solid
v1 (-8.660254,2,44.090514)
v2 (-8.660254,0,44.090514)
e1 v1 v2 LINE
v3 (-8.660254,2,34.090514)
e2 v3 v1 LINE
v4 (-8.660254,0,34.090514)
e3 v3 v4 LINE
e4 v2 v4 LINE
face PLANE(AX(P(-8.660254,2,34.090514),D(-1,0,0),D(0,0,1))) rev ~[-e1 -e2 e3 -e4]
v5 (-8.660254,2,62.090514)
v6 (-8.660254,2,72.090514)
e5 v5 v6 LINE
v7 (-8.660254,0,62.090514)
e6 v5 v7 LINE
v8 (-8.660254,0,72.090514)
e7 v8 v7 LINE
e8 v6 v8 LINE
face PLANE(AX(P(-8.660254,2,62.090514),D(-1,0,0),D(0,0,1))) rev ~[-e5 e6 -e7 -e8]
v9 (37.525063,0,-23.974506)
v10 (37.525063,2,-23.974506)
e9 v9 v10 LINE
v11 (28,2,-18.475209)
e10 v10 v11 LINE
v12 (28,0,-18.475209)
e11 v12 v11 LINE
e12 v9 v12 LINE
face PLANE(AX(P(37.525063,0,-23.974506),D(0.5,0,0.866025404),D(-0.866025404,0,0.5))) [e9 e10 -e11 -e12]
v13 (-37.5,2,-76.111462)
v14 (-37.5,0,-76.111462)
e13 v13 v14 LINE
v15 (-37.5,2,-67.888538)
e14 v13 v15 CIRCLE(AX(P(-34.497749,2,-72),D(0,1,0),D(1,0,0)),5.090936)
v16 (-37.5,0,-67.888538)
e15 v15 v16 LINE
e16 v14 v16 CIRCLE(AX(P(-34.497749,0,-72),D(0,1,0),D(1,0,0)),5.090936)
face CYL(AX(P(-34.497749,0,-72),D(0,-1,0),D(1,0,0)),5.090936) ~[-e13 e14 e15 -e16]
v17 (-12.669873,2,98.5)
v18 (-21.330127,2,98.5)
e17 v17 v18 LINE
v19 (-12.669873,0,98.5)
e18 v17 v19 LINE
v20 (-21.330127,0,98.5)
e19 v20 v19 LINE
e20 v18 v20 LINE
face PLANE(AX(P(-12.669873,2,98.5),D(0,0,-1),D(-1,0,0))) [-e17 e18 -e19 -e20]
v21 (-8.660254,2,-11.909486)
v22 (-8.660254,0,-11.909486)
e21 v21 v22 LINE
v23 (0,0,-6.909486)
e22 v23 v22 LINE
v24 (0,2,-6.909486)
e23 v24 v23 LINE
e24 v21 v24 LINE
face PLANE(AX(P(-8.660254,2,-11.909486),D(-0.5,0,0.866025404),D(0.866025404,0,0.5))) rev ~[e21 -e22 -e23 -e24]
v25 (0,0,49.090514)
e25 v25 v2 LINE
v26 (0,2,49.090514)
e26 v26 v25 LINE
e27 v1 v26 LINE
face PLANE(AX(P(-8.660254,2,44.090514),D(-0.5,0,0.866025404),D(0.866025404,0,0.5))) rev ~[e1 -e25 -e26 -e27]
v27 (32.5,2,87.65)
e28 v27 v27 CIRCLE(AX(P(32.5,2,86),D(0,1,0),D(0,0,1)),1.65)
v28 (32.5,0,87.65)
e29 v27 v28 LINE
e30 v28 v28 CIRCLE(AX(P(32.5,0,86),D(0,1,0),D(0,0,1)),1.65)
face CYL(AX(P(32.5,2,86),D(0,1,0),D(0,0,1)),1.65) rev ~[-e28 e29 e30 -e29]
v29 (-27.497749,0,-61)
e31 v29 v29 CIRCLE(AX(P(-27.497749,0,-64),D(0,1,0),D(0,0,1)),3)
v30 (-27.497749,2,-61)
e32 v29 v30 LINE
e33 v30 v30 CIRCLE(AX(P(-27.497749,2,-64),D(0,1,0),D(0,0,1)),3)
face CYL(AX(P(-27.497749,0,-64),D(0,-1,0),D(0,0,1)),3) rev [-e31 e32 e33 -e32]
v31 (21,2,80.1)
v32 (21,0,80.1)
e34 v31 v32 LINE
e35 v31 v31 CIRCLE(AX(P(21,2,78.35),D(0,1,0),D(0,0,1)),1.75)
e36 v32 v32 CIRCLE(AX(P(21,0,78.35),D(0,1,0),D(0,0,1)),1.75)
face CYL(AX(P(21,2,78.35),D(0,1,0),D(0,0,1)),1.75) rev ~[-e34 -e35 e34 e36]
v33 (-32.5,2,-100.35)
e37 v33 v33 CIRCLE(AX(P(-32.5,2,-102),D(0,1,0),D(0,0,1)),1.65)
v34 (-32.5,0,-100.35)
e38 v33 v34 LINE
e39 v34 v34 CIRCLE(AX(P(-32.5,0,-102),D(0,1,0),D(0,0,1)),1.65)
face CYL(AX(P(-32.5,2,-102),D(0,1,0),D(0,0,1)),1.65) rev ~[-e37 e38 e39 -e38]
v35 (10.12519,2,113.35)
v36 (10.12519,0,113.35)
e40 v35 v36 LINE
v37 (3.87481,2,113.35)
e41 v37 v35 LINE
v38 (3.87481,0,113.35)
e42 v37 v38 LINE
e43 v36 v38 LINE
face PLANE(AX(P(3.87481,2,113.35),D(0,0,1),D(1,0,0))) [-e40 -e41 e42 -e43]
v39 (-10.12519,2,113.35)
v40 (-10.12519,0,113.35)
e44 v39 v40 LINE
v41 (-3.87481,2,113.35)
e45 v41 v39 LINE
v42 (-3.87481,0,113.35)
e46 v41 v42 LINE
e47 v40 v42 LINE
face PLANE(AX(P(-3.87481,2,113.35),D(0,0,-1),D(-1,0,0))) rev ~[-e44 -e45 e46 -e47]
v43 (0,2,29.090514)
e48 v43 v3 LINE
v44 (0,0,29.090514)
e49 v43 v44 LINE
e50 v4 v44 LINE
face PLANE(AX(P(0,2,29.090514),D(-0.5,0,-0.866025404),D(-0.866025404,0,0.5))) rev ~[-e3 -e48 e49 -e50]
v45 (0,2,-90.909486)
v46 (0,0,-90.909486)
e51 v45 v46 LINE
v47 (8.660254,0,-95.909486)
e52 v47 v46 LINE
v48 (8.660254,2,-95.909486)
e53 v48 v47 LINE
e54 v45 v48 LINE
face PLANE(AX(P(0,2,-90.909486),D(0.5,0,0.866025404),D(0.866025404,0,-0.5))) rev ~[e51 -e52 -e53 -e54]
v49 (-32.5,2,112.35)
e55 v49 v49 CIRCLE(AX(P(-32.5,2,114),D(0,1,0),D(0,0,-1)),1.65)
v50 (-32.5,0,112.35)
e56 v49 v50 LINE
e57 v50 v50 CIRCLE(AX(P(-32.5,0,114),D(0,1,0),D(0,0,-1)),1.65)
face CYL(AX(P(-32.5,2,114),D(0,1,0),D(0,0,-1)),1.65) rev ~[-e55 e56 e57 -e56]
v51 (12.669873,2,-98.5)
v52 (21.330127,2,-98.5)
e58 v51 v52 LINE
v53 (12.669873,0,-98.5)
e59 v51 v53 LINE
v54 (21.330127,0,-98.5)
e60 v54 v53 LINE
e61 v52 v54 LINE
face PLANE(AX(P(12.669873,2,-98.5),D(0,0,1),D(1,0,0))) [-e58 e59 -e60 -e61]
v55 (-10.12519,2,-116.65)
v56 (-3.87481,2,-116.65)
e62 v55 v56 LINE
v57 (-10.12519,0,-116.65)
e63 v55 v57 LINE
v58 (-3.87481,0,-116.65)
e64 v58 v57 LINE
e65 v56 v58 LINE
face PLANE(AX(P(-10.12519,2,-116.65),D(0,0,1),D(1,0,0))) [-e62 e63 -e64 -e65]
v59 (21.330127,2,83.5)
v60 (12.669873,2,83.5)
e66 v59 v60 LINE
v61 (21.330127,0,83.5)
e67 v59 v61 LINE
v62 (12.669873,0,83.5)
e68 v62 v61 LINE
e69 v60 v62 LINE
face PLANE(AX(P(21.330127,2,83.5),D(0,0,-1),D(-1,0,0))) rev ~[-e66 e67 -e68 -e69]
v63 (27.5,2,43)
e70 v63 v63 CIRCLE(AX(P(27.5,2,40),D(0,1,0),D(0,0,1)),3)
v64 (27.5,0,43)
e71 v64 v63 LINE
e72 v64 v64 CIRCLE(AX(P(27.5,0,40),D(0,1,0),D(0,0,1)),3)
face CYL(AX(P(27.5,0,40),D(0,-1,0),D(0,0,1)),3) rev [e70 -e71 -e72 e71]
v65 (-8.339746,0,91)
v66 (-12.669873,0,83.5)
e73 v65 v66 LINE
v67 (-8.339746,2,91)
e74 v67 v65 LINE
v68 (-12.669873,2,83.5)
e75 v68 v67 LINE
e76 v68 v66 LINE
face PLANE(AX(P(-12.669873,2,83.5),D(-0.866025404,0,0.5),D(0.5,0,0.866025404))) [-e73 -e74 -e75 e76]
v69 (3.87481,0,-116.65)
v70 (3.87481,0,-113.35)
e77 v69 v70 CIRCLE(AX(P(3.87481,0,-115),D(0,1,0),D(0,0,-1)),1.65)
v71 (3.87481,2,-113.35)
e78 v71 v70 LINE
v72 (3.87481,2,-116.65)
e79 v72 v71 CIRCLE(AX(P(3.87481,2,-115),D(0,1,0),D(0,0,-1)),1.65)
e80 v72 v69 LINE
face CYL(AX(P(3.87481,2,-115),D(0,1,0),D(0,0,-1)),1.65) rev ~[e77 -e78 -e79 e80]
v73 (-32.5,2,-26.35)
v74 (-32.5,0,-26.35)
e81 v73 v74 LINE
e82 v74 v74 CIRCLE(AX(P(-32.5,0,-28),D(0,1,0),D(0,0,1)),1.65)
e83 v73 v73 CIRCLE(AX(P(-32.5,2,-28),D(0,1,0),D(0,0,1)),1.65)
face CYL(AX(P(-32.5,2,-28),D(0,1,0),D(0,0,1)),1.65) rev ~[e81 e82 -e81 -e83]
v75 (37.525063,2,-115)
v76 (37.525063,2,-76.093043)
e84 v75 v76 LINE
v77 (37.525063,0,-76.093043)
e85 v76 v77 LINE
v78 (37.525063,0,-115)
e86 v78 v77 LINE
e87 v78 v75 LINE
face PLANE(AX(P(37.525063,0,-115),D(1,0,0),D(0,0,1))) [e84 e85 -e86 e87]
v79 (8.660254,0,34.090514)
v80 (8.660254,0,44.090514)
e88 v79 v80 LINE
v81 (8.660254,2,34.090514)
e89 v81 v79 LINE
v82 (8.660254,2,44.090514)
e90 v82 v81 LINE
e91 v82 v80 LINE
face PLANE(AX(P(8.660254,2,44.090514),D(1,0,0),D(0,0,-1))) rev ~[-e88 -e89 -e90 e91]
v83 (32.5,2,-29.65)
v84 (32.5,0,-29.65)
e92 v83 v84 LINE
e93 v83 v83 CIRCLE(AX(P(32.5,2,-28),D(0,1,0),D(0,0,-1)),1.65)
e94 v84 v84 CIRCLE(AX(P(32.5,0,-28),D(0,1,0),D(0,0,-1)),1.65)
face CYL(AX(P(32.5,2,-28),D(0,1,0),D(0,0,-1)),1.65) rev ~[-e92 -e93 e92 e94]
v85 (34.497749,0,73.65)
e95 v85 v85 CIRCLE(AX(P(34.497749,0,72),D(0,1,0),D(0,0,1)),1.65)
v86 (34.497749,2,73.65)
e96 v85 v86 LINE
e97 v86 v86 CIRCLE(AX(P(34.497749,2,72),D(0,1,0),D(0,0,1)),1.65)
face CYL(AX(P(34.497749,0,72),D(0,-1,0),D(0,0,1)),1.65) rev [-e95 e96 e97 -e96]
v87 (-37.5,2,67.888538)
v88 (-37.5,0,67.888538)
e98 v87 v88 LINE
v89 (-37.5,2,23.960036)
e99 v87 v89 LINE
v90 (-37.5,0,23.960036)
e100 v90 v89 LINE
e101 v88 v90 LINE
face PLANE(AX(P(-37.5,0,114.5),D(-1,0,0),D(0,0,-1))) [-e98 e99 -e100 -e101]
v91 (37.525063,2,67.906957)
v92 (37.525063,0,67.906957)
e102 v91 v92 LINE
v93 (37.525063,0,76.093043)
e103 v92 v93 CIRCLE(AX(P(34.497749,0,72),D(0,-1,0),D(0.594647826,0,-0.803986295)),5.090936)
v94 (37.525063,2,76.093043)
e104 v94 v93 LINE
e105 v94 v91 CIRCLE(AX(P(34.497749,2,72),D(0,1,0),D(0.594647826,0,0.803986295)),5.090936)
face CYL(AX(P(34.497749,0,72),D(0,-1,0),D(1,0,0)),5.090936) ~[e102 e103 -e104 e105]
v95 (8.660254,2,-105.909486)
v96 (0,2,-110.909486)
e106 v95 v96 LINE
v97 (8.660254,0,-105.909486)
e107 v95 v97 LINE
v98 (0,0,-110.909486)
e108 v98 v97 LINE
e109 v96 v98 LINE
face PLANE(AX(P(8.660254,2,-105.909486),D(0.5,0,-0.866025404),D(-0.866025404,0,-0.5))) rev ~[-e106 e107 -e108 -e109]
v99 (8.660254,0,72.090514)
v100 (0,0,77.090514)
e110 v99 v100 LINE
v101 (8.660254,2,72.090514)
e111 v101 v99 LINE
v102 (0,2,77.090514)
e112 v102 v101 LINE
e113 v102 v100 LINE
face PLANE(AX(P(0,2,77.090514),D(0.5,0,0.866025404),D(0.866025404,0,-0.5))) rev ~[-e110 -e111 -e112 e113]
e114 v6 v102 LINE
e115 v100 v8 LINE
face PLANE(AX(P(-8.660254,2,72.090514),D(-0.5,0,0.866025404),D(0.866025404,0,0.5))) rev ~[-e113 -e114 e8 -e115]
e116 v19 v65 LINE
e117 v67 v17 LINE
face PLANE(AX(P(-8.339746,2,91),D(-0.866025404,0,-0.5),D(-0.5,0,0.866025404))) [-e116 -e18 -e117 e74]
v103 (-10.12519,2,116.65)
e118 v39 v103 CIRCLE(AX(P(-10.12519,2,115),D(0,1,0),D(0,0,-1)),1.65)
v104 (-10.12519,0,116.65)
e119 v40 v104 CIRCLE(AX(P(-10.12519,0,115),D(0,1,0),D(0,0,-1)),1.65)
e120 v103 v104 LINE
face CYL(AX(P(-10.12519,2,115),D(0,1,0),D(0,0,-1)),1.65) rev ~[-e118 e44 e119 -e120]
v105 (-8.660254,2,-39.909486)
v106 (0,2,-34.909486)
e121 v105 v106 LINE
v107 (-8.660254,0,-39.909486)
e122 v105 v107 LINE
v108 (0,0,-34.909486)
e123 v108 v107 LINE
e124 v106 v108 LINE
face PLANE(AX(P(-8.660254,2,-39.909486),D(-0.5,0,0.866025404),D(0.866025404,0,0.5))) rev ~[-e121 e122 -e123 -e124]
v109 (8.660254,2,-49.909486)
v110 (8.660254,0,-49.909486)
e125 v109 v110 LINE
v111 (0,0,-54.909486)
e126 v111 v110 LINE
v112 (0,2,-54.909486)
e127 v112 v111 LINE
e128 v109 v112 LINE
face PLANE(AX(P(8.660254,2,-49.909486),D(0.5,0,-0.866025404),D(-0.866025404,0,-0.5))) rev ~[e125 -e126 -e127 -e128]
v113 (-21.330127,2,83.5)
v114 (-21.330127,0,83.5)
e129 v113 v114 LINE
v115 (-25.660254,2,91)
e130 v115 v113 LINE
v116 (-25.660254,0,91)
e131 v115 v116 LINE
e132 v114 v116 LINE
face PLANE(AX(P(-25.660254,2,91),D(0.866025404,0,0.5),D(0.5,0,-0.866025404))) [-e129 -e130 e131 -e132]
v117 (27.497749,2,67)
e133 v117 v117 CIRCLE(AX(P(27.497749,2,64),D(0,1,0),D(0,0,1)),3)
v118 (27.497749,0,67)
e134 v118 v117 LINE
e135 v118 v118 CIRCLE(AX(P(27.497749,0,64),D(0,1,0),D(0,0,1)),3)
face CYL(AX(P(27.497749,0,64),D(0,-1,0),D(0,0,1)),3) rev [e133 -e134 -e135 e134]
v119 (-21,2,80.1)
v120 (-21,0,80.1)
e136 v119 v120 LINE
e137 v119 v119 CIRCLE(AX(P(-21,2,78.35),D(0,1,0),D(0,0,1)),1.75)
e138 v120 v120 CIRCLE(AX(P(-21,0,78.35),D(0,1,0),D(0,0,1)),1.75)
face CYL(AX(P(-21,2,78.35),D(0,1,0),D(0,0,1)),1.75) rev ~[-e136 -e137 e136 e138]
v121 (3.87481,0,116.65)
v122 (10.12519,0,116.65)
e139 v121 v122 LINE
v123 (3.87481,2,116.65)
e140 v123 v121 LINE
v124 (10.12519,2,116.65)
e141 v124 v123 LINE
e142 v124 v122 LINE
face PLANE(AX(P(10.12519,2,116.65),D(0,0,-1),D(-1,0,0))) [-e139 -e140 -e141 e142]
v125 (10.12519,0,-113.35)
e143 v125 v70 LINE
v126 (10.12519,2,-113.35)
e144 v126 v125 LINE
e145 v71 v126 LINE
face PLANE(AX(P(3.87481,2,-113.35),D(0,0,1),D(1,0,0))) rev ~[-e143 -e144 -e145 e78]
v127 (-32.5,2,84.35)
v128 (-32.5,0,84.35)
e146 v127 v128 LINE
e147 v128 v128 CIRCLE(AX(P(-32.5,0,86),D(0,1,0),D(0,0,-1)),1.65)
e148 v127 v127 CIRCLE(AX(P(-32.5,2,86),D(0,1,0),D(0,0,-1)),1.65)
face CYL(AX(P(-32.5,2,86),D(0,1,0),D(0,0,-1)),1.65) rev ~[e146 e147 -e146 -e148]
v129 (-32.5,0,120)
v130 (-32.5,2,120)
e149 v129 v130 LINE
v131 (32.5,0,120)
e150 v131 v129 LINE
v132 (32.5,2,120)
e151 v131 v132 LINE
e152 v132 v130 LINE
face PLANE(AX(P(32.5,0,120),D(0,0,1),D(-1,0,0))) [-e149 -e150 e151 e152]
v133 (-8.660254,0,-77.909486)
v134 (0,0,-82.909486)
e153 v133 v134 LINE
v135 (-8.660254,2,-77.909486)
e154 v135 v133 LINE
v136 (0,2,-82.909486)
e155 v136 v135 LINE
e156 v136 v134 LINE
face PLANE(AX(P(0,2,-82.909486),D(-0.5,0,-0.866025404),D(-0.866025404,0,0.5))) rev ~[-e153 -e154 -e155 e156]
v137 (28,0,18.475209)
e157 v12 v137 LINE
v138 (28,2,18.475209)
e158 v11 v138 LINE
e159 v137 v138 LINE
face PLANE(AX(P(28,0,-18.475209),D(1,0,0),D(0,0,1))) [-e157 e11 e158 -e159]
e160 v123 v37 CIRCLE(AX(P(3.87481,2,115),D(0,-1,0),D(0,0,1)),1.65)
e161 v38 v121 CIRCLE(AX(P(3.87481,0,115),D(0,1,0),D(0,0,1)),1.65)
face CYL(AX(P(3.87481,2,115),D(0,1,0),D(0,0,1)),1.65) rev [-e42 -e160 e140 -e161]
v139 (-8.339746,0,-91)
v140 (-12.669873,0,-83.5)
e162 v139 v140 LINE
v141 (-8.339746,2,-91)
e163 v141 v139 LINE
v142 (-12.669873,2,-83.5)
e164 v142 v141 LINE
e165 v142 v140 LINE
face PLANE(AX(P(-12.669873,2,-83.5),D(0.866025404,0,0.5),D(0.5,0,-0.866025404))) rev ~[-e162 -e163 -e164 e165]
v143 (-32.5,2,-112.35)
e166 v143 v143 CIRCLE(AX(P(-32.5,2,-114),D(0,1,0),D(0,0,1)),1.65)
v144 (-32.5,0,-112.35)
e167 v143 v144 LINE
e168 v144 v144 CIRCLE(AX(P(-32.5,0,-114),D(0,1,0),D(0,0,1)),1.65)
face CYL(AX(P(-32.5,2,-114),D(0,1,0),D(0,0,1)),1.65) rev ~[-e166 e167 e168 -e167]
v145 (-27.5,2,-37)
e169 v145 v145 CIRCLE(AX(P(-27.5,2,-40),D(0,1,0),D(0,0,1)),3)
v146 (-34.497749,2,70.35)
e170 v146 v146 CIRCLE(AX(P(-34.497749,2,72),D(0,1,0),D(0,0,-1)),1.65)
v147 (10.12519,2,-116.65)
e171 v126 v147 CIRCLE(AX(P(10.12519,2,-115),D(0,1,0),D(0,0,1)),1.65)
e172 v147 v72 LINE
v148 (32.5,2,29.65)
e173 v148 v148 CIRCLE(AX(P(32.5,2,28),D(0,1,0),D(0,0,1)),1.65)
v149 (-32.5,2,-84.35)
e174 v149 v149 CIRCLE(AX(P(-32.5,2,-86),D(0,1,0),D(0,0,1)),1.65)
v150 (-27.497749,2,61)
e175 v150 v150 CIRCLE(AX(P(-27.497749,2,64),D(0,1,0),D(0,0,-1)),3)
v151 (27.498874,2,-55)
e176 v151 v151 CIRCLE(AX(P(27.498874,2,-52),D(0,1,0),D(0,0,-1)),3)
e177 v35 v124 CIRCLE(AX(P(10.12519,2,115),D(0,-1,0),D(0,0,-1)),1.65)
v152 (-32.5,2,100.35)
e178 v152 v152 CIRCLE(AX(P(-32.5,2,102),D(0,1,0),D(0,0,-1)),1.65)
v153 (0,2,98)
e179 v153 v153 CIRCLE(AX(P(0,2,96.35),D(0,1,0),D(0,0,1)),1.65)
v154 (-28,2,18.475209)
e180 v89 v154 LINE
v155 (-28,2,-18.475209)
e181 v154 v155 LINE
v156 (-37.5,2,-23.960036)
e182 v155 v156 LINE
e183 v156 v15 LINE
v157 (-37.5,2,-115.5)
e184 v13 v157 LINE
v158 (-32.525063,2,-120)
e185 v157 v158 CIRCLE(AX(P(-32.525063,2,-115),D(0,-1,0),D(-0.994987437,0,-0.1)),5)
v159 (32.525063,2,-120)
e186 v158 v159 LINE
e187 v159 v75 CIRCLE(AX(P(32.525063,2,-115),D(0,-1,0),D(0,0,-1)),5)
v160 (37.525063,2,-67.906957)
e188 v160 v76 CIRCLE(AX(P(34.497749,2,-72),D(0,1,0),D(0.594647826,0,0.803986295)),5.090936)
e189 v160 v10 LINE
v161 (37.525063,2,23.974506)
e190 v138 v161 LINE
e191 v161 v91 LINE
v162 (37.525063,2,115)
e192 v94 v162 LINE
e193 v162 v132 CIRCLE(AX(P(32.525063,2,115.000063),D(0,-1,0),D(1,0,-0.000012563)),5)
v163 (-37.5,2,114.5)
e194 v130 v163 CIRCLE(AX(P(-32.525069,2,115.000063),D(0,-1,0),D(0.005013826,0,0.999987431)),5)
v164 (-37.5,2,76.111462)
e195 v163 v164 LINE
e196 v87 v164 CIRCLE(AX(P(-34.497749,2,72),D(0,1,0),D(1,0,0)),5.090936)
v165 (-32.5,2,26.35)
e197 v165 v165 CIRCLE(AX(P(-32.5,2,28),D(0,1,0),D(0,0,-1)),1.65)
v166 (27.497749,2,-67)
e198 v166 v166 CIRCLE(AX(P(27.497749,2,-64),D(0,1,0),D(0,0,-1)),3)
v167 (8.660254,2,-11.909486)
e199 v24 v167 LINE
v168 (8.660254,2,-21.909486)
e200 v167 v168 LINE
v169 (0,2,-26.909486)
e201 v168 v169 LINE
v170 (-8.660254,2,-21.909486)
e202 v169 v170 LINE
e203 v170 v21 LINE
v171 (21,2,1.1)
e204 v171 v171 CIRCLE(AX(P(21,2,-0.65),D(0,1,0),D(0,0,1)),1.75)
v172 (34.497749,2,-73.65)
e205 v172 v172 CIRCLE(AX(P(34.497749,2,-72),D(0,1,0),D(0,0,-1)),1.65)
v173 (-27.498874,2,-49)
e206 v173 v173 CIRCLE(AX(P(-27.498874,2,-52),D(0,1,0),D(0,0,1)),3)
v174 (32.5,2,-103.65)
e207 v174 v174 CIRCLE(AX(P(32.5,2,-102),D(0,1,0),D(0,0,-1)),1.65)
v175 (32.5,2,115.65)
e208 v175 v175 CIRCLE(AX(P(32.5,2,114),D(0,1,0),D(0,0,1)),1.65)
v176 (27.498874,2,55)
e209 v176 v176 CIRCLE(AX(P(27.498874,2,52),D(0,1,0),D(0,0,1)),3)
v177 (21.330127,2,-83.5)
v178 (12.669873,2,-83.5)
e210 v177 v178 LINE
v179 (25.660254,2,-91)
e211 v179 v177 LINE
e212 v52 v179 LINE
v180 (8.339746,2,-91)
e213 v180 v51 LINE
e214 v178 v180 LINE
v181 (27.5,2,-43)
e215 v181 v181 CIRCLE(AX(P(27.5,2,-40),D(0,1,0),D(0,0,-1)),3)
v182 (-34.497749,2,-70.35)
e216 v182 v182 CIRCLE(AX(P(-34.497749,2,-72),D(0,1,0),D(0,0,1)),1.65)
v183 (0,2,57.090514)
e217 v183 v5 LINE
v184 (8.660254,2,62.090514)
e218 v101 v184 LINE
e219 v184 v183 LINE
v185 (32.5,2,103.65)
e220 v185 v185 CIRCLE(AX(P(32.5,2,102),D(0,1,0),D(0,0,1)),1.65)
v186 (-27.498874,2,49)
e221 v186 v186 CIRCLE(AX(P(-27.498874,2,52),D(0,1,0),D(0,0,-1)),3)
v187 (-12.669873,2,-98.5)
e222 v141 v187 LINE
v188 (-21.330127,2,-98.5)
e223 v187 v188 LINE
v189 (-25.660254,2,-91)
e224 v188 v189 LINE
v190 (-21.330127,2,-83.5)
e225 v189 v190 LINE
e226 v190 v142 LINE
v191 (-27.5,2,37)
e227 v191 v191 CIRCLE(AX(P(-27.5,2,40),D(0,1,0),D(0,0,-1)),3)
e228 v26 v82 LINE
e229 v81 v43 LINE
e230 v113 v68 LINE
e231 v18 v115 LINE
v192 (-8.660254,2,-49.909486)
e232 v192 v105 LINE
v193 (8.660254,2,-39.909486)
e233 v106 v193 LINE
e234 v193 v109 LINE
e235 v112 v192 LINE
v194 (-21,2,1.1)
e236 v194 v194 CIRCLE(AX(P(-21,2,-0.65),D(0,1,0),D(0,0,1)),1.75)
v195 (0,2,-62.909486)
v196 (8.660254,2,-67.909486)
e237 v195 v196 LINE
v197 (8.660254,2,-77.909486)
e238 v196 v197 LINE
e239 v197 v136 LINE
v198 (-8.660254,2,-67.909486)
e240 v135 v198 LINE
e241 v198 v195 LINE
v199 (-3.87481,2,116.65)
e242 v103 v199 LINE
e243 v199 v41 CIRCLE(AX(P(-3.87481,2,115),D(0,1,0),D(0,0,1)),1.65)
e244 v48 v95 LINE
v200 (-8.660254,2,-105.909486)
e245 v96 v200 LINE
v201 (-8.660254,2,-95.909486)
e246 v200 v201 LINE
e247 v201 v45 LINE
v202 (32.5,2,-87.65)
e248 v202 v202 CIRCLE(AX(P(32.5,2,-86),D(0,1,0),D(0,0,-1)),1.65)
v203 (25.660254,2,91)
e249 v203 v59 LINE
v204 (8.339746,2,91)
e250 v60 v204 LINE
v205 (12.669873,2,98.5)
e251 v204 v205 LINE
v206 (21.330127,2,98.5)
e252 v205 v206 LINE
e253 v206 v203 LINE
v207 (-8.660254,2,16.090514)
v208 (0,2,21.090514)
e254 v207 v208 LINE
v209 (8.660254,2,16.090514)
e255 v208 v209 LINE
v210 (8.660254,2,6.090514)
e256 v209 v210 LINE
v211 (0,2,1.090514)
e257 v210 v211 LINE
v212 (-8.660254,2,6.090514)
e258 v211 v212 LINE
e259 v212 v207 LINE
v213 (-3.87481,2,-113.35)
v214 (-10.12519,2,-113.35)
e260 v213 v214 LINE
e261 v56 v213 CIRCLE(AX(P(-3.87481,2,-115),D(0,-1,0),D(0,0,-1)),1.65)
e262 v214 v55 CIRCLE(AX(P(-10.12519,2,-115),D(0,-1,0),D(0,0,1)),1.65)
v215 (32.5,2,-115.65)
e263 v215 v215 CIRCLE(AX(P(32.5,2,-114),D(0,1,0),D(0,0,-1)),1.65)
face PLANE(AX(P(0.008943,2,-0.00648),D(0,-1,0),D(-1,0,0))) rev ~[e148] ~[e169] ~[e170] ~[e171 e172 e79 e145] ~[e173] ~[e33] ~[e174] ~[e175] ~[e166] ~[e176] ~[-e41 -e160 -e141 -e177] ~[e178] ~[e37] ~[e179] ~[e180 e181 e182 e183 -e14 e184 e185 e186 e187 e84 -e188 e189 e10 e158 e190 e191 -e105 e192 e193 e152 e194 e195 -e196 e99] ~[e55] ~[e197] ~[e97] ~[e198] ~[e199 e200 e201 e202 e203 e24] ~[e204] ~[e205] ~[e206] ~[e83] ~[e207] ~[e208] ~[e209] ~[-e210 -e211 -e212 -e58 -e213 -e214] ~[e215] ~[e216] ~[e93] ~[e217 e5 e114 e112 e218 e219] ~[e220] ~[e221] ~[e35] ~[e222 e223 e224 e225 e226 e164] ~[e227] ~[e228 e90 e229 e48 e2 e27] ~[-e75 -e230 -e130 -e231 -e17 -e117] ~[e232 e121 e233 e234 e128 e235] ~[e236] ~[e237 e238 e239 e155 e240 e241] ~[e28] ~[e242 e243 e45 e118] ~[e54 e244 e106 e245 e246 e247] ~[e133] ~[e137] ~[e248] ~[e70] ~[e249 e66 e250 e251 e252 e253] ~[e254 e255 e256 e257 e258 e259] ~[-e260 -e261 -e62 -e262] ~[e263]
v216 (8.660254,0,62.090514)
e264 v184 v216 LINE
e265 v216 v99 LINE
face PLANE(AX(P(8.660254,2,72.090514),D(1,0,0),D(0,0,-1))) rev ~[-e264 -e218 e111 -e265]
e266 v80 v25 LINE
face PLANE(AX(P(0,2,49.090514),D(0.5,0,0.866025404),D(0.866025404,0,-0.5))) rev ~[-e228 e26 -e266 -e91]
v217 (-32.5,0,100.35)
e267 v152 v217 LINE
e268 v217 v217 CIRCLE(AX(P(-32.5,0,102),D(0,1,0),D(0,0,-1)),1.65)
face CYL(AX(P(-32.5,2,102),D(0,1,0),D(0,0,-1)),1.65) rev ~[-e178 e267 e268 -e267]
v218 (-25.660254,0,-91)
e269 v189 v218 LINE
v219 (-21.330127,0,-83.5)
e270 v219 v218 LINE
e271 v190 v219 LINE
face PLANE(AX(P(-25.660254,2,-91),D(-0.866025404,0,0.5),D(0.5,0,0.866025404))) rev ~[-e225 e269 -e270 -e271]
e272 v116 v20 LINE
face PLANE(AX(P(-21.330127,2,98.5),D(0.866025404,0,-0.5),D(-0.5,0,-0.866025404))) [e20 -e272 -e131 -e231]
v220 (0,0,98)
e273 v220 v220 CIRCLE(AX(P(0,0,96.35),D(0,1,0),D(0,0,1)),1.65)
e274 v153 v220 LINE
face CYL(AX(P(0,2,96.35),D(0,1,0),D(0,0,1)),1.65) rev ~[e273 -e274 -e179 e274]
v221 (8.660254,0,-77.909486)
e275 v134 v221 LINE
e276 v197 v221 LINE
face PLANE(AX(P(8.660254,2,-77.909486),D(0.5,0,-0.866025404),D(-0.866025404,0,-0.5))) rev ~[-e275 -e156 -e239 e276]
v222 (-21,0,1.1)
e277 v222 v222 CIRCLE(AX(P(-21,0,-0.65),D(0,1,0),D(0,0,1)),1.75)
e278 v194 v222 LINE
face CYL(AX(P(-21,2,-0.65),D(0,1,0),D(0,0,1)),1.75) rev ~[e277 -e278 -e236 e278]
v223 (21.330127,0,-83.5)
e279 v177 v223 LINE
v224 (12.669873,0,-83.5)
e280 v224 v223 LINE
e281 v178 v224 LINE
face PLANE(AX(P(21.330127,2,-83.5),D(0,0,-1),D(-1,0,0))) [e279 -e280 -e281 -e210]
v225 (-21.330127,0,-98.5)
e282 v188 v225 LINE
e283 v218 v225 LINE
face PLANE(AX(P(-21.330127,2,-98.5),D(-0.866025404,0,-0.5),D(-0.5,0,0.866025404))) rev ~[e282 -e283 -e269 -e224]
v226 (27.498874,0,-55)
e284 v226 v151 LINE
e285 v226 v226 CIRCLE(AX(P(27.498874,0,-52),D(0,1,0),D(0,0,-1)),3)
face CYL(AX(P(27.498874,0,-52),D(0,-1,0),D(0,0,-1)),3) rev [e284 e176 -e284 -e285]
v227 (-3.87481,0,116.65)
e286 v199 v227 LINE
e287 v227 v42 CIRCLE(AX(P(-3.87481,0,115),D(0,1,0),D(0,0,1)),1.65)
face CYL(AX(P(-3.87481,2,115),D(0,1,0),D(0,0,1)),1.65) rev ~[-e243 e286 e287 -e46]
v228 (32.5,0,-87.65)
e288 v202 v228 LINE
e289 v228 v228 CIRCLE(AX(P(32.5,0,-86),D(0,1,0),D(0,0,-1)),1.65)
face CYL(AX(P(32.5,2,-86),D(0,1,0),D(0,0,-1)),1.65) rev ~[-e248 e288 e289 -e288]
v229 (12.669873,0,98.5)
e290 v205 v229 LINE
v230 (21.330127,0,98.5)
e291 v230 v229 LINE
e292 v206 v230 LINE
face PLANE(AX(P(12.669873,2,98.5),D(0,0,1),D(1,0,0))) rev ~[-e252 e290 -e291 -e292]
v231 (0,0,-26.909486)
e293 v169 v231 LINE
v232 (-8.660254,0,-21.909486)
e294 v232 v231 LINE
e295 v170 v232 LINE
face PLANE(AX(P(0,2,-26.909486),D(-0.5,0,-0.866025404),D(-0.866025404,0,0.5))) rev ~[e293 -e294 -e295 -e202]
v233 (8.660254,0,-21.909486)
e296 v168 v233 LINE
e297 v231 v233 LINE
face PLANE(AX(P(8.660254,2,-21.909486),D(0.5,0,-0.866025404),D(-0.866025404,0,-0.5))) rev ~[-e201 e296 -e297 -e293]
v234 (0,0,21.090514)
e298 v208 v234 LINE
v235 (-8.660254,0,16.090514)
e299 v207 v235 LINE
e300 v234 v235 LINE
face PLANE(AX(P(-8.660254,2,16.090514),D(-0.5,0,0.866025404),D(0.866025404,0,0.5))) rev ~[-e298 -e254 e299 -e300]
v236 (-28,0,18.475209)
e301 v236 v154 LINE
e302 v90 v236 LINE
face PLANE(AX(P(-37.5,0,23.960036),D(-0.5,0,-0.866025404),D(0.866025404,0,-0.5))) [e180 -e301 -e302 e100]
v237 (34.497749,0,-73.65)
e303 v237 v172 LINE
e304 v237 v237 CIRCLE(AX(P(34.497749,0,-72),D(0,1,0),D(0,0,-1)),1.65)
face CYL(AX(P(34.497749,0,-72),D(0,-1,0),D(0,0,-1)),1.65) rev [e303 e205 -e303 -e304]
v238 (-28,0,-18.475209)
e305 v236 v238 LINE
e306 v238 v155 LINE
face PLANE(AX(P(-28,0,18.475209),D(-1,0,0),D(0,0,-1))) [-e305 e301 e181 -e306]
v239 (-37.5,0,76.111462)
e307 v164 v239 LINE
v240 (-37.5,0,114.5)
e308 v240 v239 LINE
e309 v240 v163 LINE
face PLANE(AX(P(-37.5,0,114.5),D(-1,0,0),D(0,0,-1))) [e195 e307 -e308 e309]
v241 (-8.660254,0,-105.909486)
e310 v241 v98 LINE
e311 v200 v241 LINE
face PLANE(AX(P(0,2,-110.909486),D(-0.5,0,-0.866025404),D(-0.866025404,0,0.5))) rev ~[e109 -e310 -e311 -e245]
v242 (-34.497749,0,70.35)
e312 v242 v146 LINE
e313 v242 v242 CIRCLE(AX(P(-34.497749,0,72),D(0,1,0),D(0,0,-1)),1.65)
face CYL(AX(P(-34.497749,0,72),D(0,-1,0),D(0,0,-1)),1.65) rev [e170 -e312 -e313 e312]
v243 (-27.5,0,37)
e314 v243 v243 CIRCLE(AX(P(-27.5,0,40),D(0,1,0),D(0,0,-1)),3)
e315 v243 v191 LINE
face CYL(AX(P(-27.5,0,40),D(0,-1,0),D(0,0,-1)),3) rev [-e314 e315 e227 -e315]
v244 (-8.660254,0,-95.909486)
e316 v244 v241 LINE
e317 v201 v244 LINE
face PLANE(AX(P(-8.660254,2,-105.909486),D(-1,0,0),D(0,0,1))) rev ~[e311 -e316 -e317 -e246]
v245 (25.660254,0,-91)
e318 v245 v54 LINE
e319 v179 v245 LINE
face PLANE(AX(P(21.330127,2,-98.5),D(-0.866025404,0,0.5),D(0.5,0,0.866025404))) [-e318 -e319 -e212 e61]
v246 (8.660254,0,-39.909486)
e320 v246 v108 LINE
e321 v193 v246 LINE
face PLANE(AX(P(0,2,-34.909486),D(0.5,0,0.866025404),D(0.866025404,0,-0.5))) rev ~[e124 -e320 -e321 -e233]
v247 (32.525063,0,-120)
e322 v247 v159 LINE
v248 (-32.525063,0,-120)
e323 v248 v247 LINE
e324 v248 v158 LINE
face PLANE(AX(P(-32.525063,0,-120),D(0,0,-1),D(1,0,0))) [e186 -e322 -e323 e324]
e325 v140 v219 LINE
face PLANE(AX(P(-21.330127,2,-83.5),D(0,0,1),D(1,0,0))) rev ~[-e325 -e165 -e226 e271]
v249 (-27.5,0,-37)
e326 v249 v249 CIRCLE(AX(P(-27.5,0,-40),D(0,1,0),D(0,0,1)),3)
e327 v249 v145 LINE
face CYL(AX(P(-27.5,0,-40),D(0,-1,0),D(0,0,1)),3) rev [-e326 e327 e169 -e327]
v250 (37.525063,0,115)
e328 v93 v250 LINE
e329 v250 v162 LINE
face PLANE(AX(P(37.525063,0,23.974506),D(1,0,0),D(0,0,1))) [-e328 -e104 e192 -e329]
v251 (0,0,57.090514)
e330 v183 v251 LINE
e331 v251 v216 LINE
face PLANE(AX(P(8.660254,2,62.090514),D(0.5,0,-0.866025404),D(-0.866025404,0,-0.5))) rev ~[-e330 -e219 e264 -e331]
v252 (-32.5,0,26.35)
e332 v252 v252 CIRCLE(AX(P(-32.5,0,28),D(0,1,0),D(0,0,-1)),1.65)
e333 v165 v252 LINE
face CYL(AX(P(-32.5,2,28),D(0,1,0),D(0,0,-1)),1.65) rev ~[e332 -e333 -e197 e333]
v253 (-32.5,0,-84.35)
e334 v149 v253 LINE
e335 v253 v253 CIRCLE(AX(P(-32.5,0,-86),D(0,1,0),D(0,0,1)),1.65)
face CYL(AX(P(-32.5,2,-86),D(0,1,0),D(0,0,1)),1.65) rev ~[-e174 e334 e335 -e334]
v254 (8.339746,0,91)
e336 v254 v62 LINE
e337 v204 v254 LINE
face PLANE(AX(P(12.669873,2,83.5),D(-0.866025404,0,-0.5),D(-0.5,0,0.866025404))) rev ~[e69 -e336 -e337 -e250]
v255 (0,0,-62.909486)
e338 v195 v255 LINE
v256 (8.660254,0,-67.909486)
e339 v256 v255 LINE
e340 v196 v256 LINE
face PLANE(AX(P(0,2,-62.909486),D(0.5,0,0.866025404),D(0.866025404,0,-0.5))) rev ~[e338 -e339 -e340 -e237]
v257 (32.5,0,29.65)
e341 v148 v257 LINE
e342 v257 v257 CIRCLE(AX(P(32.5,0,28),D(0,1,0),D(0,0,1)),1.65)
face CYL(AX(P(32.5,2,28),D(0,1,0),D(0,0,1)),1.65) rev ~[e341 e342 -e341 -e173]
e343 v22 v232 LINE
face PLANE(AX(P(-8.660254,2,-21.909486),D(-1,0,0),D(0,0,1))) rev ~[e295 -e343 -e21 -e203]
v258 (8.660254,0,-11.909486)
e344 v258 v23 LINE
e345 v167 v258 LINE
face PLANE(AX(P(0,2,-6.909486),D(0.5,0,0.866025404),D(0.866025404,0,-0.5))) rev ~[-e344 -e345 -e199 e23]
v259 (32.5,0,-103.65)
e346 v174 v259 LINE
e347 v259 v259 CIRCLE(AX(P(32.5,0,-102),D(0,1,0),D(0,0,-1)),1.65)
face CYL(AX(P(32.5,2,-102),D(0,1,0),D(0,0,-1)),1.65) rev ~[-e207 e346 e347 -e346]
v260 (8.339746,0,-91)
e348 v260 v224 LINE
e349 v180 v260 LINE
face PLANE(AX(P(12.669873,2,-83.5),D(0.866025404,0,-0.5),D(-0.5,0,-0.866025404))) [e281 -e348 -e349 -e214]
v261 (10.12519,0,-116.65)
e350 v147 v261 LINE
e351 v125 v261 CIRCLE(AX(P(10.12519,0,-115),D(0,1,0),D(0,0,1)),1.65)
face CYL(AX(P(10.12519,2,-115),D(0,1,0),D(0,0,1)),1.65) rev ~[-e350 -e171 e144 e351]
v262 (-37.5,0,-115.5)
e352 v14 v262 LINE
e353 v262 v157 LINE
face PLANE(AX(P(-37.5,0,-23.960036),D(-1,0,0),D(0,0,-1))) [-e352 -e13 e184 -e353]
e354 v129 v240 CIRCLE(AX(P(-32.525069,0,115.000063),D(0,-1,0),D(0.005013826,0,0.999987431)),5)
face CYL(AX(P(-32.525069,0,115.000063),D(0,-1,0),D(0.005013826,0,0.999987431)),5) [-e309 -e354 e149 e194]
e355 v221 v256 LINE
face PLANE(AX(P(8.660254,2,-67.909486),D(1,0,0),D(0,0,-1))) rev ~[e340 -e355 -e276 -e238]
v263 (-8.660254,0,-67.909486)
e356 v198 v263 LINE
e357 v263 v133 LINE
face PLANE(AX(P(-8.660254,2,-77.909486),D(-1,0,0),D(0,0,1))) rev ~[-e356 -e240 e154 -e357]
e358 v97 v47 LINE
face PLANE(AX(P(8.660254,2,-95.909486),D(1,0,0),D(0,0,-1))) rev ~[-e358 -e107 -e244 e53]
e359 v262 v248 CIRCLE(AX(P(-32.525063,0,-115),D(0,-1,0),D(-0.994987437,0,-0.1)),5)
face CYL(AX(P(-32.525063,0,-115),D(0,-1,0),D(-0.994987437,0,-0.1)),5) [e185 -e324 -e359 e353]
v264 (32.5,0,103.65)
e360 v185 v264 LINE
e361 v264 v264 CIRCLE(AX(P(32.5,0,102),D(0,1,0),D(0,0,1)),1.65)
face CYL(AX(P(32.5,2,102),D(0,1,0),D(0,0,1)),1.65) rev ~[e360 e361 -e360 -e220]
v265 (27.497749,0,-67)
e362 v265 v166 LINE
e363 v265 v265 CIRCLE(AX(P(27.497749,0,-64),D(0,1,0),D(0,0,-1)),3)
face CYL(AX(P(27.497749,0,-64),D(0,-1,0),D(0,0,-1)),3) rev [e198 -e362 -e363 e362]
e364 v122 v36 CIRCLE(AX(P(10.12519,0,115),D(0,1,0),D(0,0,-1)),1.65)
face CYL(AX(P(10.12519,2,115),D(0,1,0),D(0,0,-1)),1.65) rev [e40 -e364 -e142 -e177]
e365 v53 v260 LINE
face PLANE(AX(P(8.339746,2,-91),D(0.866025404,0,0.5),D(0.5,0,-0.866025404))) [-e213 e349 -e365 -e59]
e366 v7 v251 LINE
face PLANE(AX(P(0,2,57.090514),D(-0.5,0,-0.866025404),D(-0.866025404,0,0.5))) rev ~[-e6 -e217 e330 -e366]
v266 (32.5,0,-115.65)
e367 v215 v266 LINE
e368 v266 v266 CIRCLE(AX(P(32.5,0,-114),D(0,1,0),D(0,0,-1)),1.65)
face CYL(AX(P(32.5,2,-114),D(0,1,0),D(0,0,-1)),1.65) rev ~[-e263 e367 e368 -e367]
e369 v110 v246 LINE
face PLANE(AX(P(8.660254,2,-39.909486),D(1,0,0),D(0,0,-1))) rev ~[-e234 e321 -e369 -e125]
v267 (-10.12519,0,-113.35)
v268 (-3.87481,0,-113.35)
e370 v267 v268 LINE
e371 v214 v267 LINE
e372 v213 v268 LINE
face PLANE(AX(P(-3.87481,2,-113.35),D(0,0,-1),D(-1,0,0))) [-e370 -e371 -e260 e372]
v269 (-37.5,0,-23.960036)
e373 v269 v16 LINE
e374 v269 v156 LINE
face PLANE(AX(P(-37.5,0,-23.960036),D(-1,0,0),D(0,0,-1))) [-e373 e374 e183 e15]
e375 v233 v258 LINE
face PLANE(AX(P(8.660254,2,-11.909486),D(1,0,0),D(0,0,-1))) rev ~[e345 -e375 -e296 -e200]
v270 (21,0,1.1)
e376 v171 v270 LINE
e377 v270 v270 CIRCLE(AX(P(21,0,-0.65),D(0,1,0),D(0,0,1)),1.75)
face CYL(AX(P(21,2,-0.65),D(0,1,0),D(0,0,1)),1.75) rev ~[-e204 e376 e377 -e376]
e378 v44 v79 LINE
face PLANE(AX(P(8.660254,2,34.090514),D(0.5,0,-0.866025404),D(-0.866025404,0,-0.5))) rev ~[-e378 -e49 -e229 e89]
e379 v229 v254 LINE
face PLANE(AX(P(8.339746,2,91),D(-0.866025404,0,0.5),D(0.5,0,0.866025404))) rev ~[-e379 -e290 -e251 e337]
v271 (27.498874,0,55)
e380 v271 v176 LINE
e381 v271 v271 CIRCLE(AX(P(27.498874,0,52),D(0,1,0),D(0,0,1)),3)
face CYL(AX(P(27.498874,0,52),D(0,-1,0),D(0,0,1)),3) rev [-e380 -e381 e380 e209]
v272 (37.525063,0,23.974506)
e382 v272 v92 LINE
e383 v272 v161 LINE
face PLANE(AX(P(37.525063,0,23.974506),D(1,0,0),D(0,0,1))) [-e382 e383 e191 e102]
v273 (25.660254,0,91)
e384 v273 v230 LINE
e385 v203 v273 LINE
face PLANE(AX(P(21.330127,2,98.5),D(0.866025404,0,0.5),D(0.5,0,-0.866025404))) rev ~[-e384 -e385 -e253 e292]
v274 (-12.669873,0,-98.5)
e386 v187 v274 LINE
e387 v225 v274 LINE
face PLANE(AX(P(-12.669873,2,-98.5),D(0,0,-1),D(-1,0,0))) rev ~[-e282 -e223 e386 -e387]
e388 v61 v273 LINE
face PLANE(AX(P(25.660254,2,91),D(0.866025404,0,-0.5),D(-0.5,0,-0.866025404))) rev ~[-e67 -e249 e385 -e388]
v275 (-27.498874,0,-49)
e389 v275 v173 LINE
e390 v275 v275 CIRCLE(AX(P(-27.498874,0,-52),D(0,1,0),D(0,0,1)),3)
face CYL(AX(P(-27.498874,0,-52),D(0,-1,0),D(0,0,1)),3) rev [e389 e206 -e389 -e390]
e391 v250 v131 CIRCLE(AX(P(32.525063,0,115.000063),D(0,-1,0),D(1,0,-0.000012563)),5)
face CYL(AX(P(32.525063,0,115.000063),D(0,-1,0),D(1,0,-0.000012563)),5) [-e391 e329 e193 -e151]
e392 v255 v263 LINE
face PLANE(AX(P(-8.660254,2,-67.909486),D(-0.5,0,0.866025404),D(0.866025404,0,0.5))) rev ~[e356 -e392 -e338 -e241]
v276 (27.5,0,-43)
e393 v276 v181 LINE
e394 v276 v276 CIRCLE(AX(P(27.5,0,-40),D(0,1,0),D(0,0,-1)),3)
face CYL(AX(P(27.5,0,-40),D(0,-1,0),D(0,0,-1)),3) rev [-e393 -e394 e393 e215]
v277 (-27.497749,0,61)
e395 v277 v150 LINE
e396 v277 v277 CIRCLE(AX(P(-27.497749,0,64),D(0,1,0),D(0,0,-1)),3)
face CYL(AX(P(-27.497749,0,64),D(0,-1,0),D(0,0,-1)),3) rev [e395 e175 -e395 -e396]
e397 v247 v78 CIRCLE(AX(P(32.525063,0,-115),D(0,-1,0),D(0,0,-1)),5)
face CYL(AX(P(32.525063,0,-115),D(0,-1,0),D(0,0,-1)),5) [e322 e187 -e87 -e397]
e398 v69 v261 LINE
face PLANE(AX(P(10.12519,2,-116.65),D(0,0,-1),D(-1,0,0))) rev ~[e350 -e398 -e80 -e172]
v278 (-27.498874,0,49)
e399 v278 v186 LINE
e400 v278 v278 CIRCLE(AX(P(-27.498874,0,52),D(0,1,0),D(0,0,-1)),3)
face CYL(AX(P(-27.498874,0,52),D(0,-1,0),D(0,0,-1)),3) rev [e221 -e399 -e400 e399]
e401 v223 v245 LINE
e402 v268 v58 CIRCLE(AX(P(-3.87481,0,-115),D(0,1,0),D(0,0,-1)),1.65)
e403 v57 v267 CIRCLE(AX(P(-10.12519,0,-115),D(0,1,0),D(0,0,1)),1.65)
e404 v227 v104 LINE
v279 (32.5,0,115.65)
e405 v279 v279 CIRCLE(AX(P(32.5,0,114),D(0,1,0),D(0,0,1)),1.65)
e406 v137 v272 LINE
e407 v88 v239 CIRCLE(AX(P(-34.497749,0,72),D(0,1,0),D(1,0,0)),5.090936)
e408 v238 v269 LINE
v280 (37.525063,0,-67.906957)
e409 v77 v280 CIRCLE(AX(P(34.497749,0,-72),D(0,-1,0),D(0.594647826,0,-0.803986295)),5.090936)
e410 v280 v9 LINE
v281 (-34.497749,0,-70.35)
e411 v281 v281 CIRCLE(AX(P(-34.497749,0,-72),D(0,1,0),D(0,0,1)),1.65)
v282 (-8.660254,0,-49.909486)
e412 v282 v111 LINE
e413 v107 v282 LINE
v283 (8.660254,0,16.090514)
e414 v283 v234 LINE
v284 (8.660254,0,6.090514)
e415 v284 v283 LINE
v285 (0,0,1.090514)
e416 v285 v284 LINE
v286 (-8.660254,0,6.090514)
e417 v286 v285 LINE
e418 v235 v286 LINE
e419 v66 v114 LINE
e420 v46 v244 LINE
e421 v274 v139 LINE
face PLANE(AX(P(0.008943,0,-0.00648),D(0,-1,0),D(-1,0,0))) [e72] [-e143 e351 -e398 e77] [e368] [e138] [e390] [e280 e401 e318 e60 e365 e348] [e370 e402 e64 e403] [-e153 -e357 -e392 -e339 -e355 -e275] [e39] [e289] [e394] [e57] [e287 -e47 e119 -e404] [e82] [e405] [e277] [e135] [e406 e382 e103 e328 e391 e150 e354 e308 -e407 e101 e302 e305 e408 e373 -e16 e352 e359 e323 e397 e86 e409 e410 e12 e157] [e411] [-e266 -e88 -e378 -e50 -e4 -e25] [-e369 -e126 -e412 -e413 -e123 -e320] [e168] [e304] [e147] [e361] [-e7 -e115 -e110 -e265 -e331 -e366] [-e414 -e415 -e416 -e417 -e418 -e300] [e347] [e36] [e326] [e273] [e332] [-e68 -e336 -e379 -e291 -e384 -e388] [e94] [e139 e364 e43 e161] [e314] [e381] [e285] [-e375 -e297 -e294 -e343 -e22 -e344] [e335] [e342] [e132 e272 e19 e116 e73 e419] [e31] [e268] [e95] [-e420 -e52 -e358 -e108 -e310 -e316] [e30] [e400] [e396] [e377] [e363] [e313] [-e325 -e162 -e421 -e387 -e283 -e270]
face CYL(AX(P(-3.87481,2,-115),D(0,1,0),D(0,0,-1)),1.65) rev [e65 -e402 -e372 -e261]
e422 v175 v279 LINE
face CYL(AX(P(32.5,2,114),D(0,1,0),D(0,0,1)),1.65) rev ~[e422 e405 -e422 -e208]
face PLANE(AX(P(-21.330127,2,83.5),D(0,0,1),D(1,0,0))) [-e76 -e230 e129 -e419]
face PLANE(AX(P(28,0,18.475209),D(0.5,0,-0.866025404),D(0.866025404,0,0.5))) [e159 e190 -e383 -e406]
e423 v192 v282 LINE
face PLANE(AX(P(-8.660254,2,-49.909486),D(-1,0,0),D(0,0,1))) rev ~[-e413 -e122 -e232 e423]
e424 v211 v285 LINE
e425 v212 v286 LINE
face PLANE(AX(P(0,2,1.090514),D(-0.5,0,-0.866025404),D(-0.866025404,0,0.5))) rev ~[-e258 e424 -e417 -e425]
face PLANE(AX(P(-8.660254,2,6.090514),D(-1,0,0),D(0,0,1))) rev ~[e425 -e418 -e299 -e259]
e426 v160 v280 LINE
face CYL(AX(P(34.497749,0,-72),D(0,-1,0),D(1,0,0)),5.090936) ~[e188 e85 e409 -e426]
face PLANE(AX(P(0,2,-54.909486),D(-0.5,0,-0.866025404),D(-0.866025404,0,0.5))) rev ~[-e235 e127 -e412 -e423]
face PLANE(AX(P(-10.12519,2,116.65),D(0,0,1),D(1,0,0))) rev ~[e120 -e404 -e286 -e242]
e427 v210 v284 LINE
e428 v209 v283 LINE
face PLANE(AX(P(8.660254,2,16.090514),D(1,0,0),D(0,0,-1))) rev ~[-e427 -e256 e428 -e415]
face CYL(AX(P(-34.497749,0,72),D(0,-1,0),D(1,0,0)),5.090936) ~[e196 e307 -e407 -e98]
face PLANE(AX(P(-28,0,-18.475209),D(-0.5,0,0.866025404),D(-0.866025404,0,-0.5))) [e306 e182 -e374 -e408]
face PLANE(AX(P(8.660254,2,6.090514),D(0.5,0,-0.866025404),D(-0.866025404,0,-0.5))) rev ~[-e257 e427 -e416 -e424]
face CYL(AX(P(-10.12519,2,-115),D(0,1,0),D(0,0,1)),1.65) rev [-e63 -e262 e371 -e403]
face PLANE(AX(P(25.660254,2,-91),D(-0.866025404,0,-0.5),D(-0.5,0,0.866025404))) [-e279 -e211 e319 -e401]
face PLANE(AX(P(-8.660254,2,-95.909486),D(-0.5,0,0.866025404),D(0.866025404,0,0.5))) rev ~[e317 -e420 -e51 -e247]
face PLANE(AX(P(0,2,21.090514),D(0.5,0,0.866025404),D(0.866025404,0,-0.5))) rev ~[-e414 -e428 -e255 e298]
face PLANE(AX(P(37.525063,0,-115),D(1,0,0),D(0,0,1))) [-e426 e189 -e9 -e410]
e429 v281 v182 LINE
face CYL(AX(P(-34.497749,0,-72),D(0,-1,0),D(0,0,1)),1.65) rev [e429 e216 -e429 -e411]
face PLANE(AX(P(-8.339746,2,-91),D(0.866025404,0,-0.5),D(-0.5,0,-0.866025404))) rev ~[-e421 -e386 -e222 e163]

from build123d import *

# Parameters (mm, degrees)
SKETCH1_R           = 3
SKETCH1_R_2         = 1.65
BOSS_EXTRUDE1_DEPTH = 2
BOSS_EXTRUDE2_START = -2
SKETCH2_R           = 5.090936199
SKETCH2_R_2         = 1.65
BOSS_EXTRUDE2_DEPTH = 2
SKETCH3_R           = 1.65
CUT_EXTRUDE1_DEPTH  = 10
SKETCH4_R           = 1.75
CUT_EXTRUDE2_DEPTH  = 10


with BuildPart() as part:
    # Sketch1 → Boss-Extrude1 (new body)
    with BuildSketch(Plane(origin=(0, 0, 0), x_dir=(1, 0, 0), z_dir=(0, 1, 0))):
        with BuildLine():
            Line((37.525062814, 115), (37.525062814, 23.974506194))
            Line((37.525062814, 23.974506194), (28, 18.475208614))
            Line((28, 18.475208614), (28, -18.475208614))
            Line((28, -18.475208614), (37.525062814, -23.974506194))
            Line((37.525062814, -23.974506194), (37.525062814, -115))
            ThreePointArc((37.525062814, -115), (36.05174681, -118.544424535), (32.5, -120))
            Line((32.5, -120), (-32.5, -120))
            ThreePointArc((-32.5, -120), (-36.224769498, -118.363426816), (-37.5, -114.5))
            Line((-37.5, -114.5), (-37.5, -23.960036171))
            Line((-37.5, -23.960036171), (-28, -18.475208614))
            Line((-28, -18.475208614), (-28, 18.475208614))
            Line((-28, 18.475208614), (-37.5, 23.960036171))
            Line((-37.5, 23.960036171), (-37.5, 115.5))
            ThreePointArc((-37.5, 115.5), (-35.879164781, 118.708099244), (-32.525062814, 120))
            Line((-32.525062814, 120), (32.525062814, 120))
            ThreePointArc((32.525062814, 120), (36.06059672, 118.535533906), (37.525062814, 115))
        make_face()
        with Locations(Location((-27.497748671, 63.999999894, 0), (0, 0, 270))):
            Circle(SKETCH1_R, mode=Mode.SUBTRACT)
        with Locations(Location((-27.498874335, 51.999999947, 0), (0, 0, 270))):
            Circle(SKETCH1_R, mode=Mode.SUBTRACT)
        with Locations(Location((-27.5, 40, 0), (0, 0, 270))):
            Circle(SKETCH1_R, mode=Mode.SUBTRACT)
        with Locations(Location((27.5, 40, 0), (0, 0, 90))):
            Circle(SKETCH1_R, mode=Mode.SUBTRACT)
        with Locations(Location((27.498874335, 51.999999947, 0), (0, 0, 90))):
            Circle(SKETCH1_R, mode=Mode.SUBTRACT)
        with Locations(Location((27.497748671, 63.999999894, 0), (0, 0, 90))):
            Circle(SKETCH1_R, mode=Mode.SUBTRACT)
        with Locations(Location((27.497748671, -63.999999894, 0), (0, 0, 270))):
            Circle(SKETCH1_R, mode=Mode.SUBTRACT)
        with Locations(Location((27.498874335, -51.999999947, 0), (0, 0, 270))):
            Circle(SKETCH1_R, mode=Mode.SUBTRACT)
        with Locations(Location((27.5, -40, 0), (0, 0, 270))):
            Circle(SKETCH1_R, mode=Mode.SUBTRACT)
        with Locations(Location((-27.5, -40, 0), (0, 0, 90))):
            Circle(SKETCH1_R, mode=Mode.SUBTRACT)
        with Locations(Location((-27.498874335, -51.999999947, 0), (0, 0, 90))):
            Circle(SKETCH1_R, mode=Mode.SUBTRACT)
        with Locations(Location((-27.497748671, -63.999999894, 0), (0, 0, 90))):
            Circle(SKETCH1_R, mode=Mode.SUBTRACT)
        with Locations(Location((-34.497748671, 71.999999894, 0), (0, 0, 270))):
            Circle(SKETCH1_R_2, mode=Mode.SUBTRACT)
        with Locations(Location((34.497748671, 71.999999894, 0), (0, 0, 90))):
            Circle(SKETCH1_R_2, mode=Mode.SUBTRACT)
        with Locations(Location((34.497748671, -71.999999894, 0), (0, 0, 270))):
            Circle(SKETCH1_R_2, mode=Mode.SUBTRACT)
        with Locations(Location((-34.497748671, -71.999999894, 0), (0, 0, 90))):
            Circle(SKETCH1_R_2, mode=Mode.SUBTRACT)
    extrude(amount=BOSS_EXTRUDE1_DEPTH)

    # Sketch2 → Boss-Extrude2 (add)
    # profile 1 of 4: a face of its own
    with BuildSketch(Plane(origin=(0, 2, 0), x_dir=(1, 0, 0), z_dir=(0, 1, 0)).offset(BOSS_EXTRUDE2_START)):
        with Locations((-34.497748671, 71.999999894)):
            Circle(SKETCH2_R)
        with Locations(Location((-34.497748671, 71.999999894, 0), (0, 0, 270))):
            Circle(SKETCH2_R_2, mode=Mode.SUBTRACT)
    # profile 2 of 4: a face of its own
    with BuildSketch(Plane(origin=(0, 2, 0), x_dir=(1, 0, 0), z_dir=(0, 1, 0)).offset(BOSS_EXTRUDE2_START)):
        with Locations((34.497748671, 71.999999894)):
            Circle(SKETCH2_R)
        with Locations(Location((34.497748671, 71.999999894, 0), (0, 0, 90))):
            Circle(SKETCH2_R_2, mode=Mode.SUBTRACT)
    # profile 3 of 4: a face of its own
    with BuildSketch(Plane(origin=(0, 2, 0), x_dir=(1, 0, 0), z_dir=(0, 1, 0)).offset(BOSS_EXTRUDE2_START)):
        with Locations((34.497748671, -71.999999894)):
            Circle(SKETCH2_R)
        with Locations(Location((34.497748671, -71.999999894, 0), (0, 0, 270))):
            Circle(SKETCH2_R_2, mode=Mode.SUBTRACT)
    # profile 4 of 4: a face of its own
    with BuildSketch(Plane(origin=(0, 2, 0), x_dir=(1, 0, 0), z_dir=(0, 1, 0)).offset(BOSS_EXTRUDE2_START)):
        with Locations((-34.497748671, -71.999999894)):
            Circle(SKETCH2_R)
        with Locations(Location((-34.497748671, -71.999999894, 0), (0, 0, 90))):
            Circle(SKETCH2_R_2, mode=Mode.SUBTRACT)
    extrude(amount=BOSS_EXTRUDE2_DEPTH)

    # Sketch3 → Cut-Extrude1 (cut)
    with BuildSketch(Plane(origin=(0, 2, 0), x_dir=(1, 0, 0), z_dir=(0, 1, 0))):
        with Locations(Location((-32.5, 114, 0), (0, 0, 270))):
            Circle(SKETCH3_R)
        with Locations(Location((-32.5, 102, 0), (0, 0, 270))):
            Circle(SKETCH3_R)
        with Locations(Location((-32.5, 86, 0), (0, 0, 270))):
            Circle(SKETCH3_R)
        with Locations(Location((-32.5, 28, 0), (0, 0, 270))):
            Circle(SKETCH3_R)
        with Locations(Location((32.5, 28, 0), (0, 0, 90))):
            Circle(SKETCH3_R)
        with Locations(Location((32.5, 86, 0), (0, 0, 90))):
            Circle(SKETCH3_R)
        with Locations(Location((32.5, 102, 0), (0, 0, 90))):
            Circle(SKETCH3_R)
        with Locations(Location((32.5, 114, 0), (0, 0, 90))):
            Circle(SKETCH3_R)
        with Locations(Location((32.5, -114, 0), (0, 0, 270))):
            Circle(SKETCH3_R)
        with Locations(Location((32.5, -102, 0), (0, 0, 270))):
            Circle(SKETCH3_R)
        with Locations(Location((32.5, -86, 0), (0, 0, 270))):
            Circle(SKETCH3_R)
        with Locations(Location((32.5, -28, 0), (0, 0, 270))):
            Circle(SKETCH3_R)
        with Locations(Location((0, -96.35, 0), (0, 0, 270))):
            Circle(SKETCH3_R)
        with Locations(Location((-32.5, -28, 0), (0, 0, 90))):
            Circle(SKETCH3_R)
        with Locations(Location((-32.5, -86, 0), (0, 0, 90))):
            Circle(SKETCH3_R)
        with Locations(Location((-32.5, -102, 0), (0, 0, 90))):
            Circle(SKETCH3_R)
        with Locations(Location((-32.5, -114, 0), (0, 0, 90))):
            Circle(SKETCH3_R)
        Polygon((0, 82.909485966), (-8.660254038, 77.909485966), (-8.660254038, 67.909485966), (0, 62.909485966), (8.660254038, 67.909485966), (8.660254038, 77.909485966), align=None)
        Polygon((0, 110.909485966), (-8.660254038, 105.909485966), (-8.660254038, 95.909485966), (0, 90.909485966), (8.660254038, 95.909485966), (8.660254038, 105.909485966), align=None)
        Polygon((0, 54.909485966), (-8.660254038, 49.909485966), (-8.660254038, 39.909485966), (0, 34.909485966), (8.660254038, 39.909485966), (8.660254038, 49.909485966), align=None)
        Polygon((0, 26.909485966), (-8.660254038, 21.909485966), (-8.660254038, 11.909485966), (0, 6.909485966), (8.660254038, 11.909485966), (8.660254038, 21.909485966), align=None)
        Polygon((0, -1.090514034), (-8.660254038, -6.090514034), (-8.660254038, -16.090514034), (0, -21.090514034), (8.660254038, -16.090514034), (8.660254038, -6.090514034), align=None)
        Polygon((0, -29.090514034), (-8.660254038, -34.090514034), (-8.660254038, -44.090514034), (0, -49.090514034), (8.660254038, -44.090514034), (8.660254038, -34.090514034), align=None)
        Polygon((0, -57.090514034), (-8.660254038, -62.090514034), (-8.660254038, -72.090514034), (0, -77.090514034), (8.660254038, -72.090514034), (8.660254038, -62.090514034), align=None)
        with BuildLine():
            Line((-10.125189832, 116.65), (-3.874810168, 116.65))
            ThreePointArc((-3.874810168, 116.65), (-2.224810168, 115), (-3.874810168, 113.35))
            Line((-3.874810168, 113.35), (-10.125189832, 113.35))
            ThreePointArc((-10.125189832, 113.35), (-11.775189832, 115), (-10.125189832, 116.65))
        make_face()
        with BuildLine():
            Line((10.125189832, 116.65), (3.874810168, 116.65))
            ThreePointArc((3.874810168, 116.65), (2.224810168, 115), (3.874810168, 113.35))
            Line((3.874810168, 113.35), (10.125189832, 113.35))
            ThreePointArc((10.125189832, 113.35), (11.775189832, 115), (10.125189832, 116.65))
        make_face()
        with BuildLine():
            Line((10.125189832, -116.65), (3.874810168, -116.65))
            ThreePointArc((3.874810168, -116.65), (2.224810168, -115), (3.874810168, -113.35))
            Line((3.874810168, -113.35), (10.125189832, -113.35))
            ThreePointArc((10.125189832, -113.35), (11.775189832, -115), (10.125189832, -116.65))
        make_face()
        with BuildLine():
            Line((-10.125189832, -116.65), (-3.874810168, -116.65))
            ThreePointArc((-3.874810168, -116.65), (-2.224810168, -115), (-3.874810168, -113.35))
            Line((-3.874810168, -113.35), (-10.125189832, -113.35))
            ThreePointArc((-10.125189832, -113.35), (-11.775189832, -115), (-10.125189832, -116.65))
        make_face()
        Polygon((12.669872981, 83.5), (8.339745962, 91), (12.669872981, 98.5), (21.330127019, 98.5), (25.660254038, 91), (21.330127019, 83.5), align=None)
        Polygon((-8.339745962, 91), (-12.669872981, 98.5), (-21.330127019, 98.5), (-25.660254038, 91), (-21.330127019, 83.5), (-12.669872981, 83.5), align=None)
        Polygon((21.330127019, -83.5), (12.669872981, -83.5), (8.339745962, -91), (12.669872981, -98.5), (21.330127019, -98.5), (25.660254038, -91), align=None)
        Polygon((-12.669872981, -83.5), (-8.339745962, -91), (-12.669872981, -98.5), (-21.330127019, -98.5), (-25.660254038, -91), (-21.330127019, -83.5), align=None)
    extrude(amount=-CUT_EXTRUDE1_DEPTH, mode=Mode.SUBTRACT)

    # Sketch4 → Cut-Extrude2 (cut)
    with BuildSketch(Plane(origin=(0, 2, 0), x_dir=(1, 0, 0), z_dir=(0, 1, 0))):
        with Locations(Location((-21, -78.35, 0), (0, 0, 270))):
            Circle(SKETCH4_R)
        with Locations(Location((21, -78.35, 0), (0, 0, 270))):
            Circle(SKETCH4_R)
        with Locations(Location((-21, 0.65, 0), (0, 0, 270))):
            Circle(SKETCH4_R)
        with Locations(Location((21, 0.65, 0), (0, 0, 270))):
            Circle(SKETCH4_R)
    extrude(amount=-CUT_EXTRUDE2_DEPTH, mode=Mode.SUBTRACT)


solid = part.part
